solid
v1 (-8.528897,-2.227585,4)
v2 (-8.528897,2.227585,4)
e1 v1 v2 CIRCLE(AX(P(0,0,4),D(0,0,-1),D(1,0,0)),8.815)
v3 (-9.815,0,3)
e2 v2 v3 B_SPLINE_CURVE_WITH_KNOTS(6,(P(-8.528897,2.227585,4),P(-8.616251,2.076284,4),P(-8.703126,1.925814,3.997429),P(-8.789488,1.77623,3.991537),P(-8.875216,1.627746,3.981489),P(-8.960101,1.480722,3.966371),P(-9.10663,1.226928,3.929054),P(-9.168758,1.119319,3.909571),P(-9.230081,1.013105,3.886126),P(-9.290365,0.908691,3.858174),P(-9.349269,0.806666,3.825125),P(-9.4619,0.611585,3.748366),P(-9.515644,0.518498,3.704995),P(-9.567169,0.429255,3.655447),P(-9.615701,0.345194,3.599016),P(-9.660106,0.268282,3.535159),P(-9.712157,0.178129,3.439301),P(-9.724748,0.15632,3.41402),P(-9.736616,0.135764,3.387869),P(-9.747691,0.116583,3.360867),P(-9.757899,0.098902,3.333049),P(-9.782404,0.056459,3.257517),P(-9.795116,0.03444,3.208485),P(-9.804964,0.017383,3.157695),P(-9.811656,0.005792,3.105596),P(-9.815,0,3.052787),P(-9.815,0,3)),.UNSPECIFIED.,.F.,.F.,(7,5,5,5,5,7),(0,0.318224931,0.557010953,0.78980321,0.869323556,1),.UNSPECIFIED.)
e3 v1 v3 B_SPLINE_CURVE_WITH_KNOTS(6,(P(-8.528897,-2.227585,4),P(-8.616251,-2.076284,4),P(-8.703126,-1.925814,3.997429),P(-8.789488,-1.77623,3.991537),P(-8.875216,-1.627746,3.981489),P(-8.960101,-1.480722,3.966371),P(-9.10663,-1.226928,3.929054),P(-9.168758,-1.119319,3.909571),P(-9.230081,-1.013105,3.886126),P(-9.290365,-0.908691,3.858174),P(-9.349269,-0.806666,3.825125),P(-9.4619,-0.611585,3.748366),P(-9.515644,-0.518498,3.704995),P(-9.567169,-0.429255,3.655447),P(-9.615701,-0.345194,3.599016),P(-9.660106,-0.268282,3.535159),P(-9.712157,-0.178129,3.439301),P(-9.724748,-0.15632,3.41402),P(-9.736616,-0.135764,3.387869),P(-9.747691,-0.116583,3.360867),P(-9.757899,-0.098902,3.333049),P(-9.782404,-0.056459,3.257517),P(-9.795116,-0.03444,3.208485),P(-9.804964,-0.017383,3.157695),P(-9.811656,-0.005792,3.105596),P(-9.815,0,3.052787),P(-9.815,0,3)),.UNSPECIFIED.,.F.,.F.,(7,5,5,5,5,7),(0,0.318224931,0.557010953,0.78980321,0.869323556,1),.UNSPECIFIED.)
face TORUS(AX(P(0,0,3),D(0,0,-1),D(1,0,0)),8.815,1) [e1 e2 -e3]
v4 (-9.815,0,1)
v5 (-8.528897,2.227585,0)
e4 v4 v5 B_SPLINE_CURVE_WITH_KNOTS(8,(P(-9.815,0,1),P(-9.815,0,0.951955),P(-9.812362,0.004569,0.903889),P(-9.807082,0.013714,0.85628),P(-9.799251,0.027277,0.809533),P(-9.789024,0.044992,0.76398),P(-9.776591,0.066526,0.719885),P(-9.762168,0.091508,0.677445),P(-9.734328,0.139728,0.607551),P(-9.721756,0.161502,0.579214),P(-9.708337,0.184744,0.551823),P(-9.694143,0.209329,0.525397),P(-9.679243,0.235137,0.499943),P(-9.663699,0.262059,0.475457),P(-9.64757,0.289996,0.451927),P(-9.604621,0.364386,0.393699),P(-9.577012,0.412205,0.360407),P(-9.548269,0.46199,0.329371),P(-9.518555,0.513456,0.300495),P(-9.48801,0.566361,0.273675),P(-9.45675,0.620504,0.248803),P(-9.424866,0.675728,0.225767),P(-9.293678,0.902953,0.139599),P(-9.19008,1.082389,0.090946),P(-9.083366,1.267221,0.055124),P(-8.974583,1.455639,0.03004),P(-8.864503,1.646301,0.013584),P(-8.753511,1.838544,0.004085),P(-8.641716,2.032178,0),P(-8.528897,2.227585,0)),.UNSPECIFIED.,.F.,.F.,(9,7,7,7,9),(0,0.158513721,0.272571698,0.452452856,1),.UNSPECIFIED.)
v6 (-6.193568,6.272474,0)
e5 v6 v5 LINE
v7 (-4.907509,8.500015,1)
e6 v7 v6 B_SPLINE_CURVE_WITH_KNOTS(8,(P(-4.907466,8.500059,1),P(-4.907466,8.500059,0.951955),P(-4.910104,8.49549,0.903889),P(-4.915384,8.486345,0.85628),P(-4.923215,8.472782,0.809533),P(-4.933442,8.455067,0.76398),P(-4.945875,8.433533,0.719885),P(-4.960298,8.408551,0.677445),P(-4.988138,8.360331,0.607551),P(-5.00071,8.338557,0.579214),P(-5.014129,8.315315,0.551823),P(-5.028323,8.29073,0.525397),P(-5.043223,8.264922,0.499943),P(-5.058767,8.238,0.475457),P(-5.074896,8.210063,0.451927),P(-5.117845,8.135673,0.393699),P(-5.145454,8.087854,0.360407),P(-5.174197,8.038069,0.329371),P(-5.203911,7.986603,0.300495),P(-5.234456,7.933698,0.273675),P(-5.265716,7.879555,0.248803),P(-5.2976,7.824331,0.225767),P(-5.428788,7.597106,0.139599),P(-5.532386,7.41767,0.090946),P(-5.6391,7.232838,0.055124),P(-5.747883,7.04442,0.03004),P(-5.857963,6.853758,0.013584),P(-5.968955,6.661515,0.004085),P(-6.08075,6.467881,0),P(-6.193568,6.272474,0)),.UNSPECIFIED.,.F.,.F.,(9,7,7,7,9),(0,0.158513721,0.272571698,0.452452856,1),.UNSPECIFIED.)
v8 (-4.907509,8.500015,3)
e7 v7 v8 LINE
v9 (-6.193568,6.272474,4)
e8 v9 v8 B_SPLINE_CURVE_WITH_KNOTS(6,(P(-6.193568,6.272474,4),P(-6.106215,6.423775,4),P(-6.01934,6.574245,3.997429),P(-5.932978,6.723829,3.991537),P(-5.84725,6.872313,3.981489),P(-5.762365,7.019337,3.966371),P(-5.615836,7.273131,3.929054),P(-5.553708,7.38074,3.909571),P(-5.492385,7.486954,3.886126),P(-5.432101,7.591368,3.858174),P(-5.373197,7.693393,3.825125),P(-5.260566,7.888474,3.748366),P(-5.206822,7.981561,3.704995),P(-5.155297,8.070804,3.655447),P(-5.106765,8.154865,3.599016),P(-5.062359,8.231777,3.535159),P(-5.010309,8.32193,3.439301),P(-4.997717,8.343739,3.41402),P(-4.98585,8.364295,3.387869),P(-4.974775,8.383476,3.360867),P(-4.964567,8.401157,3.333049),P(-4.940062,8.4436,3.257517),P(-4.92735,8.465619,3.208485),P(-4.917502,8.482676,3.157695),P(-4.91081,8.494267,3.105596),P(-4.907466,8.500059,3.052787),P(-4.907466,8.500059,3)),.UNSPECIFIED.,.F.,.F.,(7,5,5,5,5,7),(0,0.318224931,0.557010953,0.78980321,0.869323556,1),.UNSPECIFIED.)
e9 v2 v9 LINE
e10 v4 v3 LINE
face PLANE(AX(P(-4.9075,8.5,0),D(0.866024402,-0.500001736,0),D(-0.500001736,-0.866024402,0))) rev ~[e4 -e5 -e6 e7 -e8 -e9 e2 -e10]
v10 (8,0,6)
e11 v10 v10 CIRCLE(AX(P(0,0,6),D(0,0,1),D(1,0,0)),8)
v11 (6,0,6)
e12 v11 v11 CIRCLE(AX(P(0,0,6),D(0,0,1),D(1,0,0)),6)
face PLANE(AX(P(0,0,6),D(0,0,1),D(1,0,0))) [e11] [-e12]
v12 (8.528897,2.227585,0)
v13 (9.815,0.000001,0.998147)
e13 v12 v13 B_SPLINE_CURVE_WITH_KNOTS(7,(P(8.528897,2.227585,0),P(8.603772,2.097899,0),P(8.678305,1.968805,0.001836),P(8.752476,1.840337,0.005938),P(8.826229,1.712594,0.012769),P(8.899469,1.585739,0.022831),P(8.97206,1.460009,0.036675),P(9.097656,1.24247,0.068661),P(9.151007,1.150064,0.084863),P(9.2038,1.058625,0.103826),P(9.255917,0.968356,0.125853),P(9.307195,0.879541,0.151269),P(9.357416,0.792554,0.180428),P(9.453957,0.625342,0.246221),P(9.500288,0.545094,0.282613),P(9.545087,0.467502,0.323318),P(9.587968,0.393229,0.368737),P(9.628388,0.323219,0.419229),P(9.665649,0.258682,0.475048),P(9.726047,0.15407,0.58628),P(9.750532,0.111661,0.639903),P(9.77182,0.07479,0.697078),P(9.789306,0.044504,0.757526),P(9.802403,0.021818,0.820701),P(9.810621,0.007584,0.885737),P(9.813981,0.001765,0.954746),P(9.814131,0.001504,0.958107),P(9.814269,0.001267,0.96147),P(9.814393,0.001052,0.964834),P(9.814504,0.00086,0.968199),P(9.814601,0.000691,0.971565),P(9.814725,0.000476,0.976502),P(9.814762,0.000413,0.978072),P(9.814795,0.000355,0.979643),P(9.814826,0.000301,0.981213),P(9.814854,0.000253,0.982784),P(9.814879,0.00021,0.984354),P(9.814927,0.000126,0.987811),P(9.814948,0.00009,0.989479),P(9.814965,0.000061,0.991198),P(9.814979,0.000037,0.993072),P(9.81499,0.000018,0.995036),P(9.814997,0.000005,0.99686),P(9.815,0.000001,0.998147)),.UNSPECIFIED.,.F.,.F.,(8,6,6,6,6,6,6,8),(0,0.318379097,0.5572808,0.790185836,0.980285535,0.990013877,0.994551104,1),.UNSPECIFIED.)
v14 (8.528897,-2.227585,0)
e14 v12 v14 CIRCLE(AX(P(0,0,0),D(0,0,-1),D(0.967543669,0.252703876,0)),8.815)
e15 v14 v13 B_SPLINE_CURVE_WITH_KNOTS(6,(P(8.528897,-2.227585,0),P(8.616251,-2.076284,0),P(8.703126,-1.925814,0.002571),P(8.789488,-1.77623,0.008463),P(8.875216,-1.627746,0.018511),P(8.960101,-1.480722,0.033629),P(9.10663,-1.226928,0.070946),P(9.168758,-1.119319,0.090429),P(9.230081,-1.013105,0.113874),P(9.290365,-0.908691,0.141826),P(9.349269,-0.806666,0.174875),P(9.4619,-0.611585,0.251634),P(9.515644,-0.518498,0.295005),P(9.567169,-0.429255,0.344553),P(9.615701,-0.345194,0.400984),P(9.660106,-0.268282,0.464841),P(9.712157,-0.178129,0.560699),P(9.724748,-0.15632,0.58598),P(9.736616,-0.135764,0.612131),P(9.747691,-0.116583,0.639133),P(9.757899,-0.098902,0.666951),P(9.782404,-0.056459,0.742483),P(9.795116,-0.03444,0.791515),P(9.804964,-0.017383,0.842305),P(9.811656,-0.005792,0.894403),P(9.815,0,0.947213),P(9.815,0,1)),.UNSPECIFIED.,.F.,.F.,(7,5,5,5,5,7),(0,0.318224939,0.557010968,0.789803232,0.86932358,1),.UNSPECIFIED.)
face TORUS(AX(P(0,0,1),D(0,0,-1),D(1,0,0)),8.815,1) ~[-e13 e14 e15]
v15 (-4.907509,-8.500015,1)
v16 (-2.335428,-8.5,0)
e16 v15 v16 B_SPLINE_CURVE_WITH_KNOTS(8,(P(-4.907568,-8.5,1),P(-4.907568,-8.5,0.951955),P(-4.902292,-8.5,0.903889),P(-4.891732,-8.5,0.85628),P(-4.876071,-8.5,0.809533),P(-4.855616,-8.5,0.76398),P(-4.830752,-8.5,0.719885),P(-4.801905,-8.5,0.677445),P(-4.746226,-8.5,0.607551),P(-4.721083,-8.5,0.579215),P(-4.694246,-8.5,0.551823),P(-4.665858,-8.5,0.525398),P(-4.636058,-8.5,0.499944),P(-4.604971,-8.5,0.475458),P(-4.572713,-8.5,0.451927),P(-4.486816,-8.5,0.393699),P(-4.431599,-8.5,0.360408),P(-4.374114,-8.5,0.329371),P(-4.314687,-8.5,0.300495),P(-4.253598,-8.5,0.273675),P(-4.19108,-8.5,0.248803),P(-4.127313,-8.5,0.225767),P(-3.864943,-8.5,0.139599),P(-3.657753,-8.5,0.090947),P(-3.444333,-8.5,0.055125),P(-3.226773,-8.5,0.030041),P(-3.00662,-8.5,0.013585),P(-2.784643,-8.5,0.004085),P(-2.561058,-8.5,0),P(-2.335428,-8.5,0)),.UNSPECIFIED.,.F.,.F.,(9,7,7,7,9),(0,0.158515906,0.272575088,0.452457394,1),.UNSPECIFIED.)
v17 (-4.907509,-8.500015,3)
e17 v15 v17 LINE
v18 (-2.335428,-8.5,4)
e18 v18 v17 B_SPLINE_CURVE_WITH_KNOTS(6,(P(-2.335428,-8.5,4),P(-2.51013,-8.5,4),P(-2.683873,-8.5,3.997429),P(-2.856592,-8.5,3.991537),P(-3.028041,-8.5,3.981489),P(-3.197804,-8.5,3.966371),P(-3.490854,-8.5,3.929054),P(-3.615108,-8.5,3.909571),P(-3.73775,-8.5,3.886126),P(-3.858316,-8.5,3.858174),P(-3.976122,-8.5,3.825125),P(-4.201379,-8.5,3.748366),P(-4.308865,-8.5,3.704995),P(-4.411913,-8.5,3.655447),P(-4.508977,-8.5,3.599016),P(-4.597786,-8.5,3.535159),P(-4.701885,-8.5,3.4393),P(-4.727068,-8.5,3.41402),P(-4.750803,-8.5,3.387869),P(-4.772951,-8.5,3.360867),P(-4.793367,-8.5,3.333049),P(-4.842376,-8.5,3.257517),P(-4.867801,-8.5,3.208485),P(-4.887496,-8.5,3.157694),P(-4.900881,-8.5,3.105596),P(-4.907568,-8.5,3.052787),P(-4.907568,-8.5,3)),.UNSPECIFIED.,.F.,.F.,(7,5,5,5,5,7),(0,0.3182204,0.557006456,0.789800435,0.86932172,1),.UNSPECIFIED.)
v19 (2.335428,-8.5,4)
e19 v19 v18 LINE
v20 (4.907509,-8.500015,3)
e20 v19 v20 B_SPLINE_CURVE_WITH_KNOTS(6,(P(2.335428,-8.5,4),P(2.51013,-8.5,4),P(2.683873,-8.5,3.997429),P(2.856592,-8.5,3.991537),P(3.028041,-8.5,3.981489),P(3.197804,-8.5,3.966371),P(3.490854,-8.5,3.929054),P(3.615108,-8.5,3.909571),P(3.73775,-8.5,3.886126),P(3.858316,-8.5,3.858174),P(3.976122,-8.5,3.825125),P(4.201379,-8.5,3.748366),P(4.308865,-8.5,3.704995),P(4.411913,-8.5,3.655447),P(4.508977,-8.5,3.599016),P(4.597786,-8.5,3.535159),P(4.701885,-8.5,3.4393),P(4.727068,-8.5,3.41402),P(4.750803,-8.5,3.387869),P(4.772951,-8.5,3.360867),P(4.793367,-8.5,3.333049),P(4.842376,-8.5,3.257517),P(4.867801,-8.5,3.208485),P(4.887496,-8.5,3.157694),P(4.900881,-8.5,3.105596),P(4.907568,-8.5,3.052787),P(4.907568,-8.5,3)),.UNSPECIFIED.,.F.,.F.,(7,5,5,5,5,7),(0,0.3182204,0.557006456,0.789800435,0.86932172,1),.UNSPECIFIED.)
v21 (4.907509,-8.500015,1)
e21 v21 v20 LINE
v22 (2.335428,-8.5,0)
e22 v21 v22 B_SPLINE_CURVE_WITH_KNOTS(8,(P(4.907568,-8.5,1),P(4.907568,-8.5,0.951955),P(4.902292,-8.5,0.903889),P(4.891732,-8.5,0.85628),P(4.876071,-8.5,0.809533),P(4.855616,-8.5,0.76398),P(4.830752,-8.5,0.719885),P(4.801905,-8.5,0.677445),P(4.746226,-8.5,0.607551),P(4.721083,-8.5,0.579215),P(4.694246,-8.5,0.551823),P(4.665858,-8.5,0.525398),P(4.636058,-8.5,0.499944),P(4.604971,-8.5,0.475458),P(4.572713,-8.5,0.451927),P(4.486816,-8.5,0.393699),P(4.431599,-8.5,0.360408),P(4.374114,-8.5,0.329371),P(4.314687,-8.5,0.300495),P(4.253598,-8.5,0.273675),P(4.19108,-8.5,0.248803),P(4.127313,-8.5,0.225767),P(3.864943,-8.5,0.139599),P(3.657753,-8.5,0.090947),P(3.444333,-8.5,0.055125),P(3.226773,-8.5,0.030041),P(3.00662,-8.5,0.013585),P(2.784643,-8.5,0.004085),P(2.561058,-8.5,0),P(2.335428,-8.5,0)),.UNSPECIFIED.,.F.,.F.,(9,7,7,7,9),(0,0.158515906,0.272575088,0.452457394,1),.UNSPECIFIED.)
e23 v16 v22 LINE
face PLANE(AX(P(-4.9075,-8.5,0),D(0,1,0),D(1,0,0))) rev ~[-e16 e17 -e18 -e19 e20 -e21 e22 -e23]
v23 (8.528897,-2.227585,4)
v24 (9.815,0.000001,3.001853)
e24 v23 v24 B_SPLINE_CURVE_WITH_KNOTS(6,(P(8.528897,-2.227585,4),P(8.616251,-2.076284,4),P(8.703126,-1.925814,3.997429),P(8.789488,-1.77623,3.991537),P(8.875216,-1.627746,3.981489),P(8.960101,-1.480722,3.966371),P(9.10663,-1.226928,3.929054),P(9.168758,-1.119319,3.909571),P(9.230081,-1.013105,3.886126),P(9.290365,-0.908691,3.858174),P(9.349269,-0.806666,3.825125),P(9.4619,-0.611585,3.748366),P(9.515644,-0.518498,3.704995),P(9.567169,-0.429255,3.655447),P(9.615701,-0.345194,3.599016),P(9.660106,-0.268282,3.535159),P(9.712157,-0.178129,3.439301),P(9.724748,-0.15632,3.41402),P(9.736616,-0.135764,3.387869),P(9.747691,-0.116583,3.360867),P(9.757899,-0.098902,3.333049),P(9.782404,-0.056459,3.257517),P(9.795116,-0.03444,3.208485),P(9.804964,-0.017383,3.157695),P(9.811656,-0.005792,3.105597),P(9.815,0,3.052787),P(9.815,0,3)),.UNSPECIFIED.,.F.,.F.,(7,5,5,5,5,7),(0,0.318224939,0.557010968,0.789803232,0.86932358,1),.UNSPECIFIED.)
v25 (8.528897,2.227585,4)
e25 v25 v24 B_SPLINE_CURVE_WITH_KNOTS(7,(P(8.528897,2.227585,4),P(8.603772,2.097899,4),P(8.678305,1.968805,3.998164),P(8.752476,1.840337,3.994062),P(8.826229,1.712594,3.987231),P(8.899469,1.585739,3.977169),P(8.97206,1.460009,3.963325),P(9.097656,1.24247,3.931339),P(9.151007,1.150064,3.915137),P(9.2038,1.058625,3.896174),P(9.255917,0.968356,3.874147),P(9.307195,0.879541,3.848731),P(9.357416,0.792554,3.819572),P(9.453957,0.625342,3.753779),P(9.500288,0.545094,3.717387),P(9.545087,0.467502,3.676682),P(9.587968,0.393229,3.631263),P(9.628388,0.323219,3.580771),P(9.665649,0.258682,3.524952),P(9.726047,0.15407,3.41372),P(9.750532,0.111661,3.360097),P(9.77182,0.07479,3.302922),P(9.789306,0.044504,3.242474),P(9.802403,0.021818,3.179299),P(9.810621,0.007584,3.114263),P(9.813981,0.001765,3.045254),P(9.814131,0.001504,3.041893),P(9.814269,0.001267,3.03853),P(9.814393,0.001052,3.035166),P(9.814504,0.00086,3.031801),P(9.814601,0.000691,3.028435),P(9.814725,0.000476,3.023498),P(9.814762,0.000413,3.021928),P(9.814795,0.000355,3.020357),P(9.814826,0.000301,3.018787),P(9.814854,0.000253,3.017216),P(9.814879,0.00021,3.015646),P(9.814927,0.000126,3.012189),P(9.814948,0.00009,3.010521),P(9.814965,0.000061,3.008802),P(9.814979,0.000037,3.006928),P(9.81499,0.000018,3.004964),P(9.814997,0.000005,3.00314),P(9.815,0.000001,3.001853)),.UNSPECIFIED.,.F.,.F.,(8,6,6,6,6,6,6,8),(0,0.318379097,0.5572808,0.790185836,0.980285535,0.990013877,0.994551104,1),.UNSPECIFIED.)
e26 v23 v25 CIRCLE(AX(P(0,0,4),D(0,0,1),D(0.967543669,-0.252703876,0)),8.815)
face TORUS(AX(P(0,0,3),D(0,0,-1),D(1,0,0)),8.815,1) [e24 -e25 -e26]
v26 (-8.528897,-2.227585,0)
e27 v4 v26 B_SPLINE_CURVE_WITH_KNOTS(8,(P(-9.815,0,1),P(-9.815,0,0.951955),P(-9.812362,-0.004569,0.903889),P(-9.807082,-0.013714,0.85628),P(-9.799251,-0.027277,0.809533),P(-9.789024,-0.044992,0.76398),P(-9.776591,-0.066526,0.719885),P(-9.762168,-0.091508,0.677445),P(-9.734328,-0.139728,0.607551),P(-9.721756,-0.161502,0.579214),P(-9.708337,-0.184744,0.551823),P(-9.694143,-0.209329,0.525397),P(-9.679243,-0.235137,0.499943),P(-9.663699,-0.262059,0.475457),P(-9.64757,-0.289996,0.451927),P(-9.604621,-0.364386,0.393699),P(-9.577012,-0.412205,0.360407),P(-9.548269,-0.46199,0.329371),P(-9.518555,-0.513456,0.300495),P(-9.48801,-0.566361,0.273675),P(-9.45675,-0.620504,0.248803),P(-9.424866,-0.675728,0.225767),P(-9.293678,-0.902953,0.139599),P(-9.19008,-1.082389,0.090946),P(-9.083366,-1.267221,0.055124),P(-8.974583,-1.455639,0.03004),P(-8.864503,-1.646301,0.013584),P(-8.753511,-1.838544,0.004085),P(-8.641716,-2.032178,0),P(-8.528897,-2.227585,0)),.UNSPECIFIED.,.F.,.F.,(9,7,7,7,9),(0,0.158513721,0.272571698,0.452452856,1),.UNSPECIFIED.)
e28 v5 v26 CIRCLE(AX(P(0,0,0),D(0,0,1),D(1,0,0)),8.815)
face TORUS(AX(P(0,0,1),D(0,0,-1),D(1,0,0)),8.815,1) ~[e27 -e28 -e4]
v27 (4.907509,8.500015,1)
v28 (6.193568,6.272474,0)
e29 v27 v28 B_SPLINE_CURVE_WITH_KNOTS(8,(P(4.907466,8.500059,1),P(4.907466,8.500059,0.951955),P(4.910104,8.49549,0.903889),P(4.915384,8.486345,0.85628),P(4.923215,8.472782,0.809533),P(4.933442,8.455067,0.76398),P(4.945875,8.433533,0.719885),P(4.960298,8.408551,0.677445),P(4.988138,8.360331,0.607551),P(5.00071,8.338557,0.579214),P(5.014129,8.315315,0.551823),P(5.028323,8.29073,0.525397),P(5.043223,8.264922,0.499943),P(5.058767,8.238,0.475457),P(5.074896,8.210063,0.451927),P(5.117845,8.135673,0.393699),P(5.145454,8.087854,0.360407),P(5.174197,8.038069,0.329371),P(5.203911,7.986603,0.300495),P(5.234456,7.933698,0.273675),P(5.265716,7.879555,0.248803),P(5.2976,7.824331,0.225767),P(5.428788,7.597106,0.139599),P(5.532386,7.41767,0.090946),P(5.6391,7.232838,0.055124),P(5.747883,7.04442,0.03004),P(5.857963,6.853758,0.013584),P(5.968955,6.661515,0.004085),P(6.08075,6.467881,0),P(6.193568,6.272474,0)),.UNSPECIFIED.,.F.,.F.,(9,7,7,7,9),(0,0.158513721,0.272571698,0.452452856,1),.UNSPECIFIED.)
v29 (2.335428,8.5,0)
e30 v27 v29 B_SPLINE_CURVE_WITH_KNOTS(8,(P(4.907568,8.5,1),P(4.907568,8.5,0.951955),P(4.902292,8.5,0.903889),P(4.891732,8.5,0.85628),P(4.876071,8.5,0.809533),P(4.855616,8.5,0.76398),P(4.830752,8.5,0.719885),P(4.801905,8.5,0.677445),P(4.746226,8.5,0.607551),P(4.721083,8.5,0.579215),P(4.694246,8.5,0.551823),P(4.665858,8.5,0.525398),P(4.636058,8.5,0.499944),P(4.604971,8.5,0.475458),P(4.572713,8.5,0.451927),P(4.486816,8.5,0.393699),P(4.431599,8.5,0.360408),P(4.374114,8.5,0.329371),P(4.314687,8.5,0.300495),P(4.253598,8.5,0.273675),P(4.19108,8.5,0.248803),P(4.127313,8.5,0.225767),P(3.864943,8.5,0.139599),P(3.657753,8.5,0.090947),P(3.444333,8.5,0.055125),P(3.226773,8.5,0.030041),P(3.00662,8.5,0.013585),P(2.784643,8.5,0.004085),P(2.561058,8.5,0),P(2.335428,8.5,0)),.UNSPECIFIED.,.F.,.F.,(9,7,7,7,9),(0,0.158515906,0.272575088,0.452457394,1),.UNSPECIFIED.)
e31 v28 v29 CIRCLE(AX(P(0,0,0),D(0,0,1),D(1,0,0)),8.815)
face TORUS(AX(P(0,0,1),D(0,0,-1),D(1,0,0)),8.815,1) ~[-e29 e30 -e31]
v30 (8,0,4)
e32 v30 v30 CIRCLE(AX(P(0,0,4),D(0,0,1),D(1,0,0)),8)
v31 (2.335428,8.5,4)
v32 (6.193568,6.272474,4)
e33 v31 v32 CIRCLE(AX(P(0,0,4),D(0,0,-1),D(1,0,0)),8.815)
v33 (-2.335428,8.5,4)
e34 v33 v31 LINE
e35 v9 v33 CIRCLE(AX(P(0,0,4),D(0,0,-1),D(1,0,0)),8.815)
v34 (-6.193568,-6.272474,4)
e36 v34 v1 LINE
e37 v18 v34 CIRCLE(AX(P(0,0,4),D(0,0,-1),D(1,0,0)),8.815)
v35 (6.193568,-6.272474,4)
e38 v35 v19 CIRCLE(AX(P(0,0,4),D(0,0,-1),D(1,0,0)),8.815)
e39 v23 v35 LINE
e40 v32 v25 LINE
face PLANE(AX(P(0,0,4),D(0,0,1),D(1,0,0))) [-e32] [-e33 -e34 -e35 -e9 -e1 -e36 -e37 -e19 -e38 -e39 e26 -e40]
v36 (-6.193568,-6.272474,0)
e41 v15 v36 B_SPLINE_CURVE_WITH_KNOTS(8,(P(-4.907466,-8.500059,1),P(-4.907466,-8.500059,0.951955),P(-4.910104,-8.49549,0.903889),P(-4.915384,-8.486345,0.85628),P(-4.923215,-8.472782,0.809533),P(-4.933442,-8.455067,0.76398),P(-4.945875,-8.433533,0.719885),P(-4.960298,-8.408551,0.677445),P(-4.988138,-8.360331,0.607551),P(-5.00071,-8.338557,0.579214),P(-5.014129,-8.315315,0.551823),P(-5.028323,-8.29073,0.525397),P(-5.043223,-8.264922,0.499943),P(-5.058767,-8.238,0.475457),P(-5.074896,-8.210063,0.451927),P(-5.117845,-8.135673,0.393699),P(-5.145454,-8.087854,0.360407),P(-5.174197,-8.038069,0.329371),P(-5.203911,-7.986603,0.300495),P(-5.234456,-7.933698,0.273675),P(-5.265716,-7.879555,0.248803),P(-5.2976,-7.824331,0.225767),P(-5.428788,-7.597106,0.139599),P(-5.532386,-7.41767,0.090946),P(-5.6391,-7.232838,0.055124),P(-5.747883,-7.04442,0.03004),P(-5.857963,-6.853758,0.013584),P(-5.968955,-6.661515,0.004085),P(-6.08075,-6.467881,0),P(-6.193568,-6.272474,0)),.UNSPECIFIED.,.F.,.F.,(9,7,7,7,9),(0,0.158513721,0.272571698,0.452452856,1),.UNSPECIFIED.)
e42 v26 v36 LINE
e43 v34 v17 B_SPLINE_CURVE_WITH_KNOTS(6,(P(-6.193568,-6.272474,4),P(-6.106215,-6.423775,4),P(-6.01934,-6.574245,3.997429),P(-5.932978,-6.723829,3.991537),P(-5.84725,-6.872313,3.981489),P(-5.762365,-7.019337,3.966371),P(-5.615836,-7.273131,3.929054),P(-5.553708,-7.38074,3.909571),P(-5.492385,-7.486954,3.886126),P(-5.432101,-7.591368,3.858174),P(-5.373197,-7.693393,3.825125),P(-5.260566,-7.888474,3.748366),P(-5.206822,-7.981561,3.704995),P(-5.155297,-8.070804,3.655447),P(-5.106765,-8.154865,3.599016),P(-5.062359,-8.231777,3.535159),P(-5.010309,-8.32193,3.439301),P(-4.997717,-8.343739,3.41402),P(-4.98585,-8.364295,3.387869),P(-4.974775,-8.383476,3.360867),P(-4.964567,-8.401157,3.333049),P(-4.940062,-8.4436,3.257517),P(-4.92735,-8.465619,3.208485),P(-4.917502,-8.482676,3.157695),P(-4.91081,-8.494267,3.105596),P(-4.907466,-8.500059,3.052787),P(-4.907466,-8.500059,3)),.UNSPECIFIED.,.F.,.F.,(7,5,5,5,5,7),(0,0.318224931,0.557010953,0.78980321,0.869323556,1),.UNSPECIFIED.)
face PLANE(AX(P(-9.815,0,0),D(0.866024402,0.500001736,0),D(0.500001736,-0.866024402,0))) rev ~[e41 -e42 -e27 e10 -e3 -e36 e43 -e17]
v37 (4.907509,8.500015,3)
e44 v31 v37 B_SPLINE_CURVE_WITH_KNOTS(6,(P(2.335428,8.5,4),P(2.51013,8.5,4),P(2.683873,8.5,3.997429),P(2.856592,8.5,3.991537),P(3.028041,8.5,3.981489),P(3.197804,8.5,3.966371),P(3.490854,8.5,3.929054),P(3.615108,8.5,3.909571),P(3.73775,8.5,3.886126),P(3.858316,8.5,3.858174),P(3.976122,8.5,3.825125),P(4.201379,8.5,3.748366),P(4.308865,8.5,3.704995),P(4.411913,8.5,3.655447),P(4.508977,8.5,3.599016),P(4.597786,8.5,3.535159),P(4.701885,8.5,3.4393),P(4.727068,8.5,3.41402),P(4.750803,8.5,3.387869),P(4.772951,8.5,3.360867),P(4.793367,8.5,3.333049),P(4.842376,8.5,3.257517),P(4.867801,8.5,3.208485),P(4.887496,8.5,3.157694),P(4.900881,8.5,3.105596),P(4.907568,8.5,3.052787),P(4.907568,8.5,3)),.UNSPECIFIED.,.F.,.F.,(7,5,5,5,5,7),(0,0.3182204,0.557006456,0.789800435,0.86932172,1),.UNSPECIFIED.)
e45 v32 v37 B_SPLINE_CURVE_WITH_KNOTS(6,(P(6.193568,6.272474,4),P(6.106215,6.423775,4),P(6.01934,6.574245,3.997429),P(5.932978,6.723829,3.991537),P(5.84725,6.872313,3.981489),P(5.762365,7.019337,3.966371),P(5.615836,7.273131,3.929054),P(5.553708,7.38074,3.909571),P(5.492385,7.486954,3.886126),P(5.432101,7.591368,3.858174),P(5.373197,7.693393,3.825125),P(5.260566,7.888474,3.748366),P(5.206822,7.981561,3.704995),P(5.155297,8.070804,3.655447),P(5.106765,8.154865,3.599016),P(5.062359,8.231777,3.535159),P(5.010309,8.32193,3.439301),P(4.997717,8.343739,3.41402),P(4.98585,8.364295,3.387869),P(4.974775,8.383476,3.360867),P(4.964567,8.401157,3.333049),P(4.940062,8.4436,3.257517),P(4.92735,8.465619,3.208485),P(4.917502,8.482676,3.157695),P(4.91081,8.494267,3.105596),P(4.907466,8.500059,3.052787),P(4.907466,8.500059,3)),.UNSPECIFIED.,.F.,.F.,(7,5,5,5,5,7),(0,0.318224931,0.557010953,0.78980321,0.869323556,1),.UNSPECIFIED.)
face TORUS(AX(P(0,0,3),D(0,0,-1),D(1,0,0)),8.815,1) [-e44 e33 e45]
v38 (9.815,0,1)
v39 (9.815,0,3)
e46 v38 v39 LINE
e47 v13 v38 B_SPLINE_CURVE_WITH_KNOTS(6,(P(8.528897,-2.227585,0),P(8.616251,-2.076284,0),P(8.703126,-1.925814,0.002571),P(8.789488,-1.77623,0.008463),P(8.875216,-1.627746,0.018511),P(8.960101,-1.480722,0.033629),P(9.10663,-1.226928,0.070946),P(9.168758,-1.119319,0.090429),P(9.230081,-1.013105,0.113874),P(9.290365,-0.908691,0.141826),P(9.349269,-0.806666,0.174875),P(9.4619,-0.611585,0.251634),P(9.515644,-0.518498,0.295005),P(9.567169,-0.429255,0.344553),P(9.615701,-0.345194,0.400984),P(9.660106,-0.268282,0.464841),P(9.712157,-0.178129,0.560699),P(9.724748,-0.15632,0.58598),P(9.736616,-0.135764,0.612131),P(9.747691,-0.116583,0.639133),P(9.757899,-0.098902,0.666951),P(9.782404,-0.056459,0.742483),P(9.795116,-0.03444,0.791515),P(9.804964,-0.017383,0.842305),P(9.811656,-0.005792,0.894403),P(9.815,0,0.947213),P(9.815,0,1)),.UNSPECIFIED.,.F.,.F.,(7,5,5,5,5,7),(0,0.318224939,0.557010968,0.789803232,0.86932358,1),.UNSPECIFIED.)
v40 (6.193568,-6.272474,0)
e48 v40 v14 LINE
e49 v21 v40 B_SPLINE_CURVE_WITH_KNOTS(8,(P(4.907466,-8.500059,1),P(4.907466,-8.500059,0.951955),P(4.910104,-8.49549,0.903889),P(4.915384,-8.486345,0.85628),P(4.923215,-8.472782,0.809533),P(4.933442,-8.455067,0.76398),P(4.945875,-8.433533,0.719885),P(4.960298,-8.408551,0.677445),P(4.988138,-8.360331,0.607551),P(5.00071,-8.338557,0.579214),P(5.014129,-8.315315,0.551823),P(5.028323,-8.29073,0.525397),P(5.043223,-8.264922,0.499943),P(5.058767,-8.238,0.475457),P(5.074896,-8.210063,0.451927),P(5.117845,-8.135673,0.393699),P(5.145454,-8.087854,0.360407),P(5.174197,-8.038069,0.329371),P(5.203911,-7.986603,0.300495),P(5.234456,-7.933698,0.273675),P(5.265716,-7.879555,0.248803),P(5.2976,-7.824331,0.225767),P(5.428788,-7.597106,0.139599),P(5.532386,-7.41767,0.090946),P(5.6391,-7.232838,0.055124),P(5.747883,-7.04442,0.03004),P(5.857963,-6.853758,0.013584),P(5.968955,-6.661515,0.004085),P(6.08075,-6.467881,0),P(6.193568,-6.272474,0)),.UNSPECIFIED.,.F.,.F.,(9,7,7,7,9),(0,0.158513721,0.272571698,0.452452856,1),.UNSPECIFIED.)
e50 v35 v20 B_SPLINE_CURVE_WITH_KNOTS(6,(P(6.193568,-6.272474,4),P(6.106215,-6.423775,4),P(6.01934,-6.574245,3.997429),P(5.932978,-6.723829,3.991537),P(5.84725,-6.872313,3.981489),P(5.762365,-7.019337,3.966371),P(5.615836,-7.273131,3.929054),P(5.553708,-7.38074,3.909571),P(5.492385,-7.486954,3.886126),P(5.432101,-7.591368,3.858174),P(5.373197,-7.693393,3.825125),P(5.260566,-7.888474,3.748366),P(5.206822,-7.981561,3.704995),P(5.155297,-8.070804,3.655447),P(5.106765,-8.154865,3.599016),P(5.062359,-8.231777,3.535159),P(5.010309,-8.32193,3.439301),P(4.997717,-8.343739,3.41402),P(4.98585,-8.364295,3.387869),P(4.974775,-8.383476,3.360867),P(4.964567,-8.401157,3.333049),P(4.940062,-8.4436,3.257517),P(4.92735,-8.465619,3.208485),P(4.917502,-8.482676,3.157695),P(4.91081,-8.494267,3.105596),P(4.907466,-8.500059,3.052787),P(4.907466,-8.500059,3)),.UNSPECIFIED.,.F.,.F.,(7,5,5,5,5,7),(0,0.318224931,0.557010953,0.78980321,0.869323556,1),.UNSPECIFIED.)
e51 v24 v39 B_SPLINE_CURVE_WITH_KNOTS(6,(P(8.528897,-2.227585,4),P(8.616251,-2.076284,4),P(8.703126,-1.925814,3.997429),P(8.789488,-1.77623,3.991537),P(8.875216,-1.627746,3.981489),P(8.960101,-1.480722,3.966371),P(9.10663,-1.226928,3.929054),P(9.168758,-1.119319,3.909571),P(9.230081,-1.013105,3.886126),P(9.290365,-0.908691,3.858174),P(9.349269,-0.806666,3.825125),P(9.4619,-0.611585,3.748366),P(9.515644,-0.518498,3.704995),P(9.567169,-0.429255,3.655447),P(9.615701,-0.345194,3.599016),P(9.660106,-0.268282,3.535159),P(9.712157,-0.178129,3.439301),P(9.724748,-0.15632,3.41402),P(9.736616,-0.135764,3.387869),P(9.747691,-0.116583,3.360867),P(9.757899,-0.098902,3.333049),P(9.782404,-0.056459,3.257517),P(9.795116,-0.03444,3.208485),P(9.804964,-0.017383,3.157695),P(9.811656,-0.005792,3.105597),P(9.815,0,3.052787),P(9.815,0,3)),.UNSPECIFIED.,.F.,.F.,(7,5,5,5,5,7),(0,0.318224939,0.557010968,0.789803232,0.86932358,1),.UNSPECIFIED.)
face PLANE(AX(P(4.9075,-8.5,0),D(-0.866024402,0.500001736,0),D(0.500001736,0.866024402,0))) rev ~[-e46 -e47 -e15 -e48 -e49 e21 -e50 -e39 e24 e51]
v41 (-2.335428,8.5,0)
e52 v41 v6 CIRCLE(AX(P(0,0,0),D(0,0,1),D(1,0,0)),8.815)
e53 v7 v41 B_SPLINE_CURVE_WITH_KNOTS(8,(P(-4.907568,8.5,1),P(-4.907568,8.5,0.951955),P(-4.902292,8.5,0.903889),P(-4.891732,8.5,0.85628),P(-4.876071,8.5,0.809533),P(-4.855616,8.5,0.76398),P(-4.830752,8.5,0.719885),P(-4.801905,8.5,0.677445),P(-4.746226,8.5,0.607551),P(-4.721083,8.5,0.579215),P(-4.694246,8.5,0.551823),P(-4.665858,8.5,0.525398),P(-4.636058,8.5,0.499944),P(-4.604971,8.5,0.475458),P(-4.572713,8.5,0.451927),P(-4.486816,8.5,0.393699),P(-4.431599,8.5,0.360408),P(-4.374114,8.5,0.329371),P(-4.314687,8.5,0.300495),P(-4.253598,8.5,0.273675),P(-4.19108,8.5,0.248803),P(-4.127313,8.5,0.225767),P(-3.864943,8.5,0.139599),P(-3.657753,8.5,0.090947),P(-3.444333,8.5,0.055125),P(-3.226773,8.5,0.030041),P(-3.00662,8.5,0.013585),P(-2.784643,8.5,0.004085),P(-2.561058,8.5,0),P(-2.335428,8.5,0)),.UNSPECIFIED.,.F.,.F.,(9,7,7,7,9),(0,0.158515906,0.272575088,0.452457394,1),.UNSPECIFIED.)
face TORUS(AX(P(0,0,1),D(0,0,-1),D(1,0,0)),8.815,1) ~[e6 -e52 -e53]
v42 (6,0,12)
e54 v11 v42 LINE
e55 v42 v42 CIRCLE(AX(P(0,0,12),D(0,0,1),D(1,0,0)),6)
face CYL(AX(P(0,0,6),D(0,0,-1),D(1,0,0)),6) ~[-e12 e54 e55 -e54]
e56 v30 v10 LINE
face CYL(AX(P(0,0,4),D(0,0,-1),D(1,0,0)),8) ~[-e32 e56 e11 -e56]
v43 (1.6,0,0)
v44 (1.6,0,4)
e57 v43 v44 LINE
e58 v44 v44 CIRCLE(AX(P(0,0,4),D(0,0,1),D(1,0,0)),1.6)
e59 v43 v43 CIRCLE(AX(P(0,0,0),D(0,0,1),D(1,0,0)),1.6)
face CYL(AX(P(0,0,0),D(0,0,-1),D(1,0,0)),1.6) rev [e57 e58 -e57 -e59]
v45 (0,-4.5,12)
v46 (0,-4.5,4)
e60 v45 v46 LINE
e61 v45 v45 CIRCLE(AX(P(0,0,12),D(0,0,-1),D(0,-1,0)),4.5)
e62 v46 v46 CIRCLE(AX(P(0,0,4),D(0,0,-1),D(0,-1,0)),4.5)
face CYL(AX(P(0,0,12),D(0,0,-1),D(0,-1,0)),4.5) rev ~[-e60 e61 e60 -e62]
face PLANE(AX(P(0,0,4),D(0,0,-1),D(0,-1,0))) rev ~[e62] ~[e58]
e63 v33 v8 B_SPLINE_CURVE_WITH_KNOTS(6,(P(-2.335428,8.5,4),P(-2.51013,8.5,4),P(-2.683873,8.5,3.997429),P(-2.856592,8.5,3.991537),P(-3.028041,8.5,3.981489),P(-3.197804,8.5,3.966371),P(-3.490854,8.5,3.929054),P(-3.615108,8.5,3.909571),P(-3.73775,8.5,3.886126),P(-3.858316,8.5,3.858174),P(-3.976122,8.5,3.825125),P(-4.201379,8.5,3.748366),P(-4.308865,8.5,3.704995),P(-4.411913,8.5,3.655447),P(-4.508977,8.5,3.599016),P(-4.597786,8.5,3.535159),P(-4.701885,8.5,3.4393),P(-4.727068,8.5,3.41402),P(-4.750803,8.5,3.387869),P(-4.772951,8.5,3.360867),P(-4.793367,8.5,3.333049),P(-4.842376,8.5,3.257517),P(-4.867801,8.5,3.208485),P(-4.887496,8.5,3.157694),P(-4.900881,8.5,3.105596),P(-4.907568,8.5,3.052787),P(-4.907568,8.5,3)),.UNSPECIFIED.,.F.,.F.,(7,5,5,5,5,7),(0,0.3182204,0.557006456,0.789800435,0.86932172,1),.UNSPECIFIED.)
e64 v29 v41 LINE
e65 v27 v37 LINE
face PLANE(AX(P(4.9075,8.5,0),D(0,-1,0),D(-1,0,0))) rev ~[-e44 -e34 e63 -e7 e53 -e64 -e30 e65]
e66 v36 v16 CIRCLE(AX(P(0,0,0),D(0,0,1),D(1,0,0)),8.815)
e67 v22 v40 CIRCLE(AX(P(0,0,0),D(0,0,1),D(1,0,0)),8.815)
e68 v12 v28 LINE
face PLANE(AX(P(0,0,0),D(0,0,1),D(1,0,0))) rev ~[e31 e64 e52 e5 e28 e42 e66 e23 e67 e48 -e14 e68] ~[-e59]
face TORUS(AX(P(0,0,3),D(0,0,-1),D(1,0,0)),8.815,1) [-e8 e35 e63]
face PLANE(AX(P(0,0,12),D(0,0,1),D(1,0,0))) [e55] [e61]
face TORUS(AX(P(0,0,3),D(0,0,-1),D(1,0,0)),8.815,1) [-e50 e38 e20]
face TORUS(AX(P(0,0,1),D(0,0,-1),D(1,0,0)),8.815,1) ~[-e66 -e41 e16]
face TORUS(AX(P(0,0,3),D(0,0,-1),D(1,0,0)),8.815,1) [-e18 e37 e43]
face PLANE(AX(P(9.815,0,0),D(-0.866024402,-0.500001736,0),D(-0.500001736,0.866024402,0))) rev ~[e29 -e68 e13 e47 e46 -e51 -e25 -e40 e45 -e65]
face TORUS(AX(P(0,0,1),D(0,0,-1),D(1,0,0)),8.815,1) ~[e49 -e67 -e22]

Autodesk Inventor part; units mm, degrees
ref_plane "YZ Plane" through (0, 0, 0) normal (1, 0, 0) x (0, 1, 0)
ref_plane "XZ Plane" through (0, 0, 0) normal (0, 1, 0) x (-1, 0, 0)
ref_plane "XY Plane" through (0, 0, 0) normal (0, 0, 1) x (1, 0, 0)
sketch "Sketch1" plane through (0, 0, 0) normal (0, 0, 1) x (1, 0, 0)
  circle A0 centre (0, 0) radius 1.6
  line L0 (9.815, 0) -> (4.9075, -8.5)
  line L1 (4.9075, -8.5) -> (-4.9075, -8.5)
  line L2 (-4.9075, -8.5) -> (-9.815, 0)
  line L3 (-9.815, 0) -> (-4.9075, 8.5)
  line L4 (-4.9075, 8.5) -> (4.9075, 8.5)
  line L5 (4.9075, 8.5) -> (9.815, 0)
  circle A1 centre (0, 0) radius 9.815
  point P0 (-9.815, 0)
  point P1 (-9.815, 0)
  dimension "d0" = 3.2
  dimension "d1" = 17
extrude "Extrusion1" add sketch "Sketch1" along normal blind 4
sketch "Sketch2" plane through (0, 0, 4) normal (0, 0, 1) x (1, 0, 0)
  circle A0 centre (0, 0) radius 8
  dimension "d4" = 16
extrude "Extrusion2" add sketch "Sketch2" along normal blind 2
sketch "Sketch3" plane through (0, 0, 6) normal (0, 0, 1) x (1, 0, 0)
  circle A0 centre (0, 0) radius 6
  dimension "d7" = 12
extrude "Extrusion3" add sketch "Sketch3" along normal blind 6
thread "Thread1" size "M12x0.5" class "6g" standard "ANSI Metric M Profile" full length
sketch "Sketch4" plane through (0, 0, 12) normal (0, 0, 1) x (1, 0, 0)
  circle A0 centre (0, 0) radius 6 projected
hole "Hole1" at (0, 0, 12) direction (0, 0, -1) diameter 9 depth 8
fillet "Fillet1" radius 1 2 edges at (4.9075, 8.5, 0) (4.9075, 8.5, 4)
sketch "Sketch5" plane through (0, 0, 0) normal (0, 0, -1) x (-1, 0, 0)
  circle A0 centre (0, 0) radius 1.6 projected
  circle A1 centre (0, 0) radius 9.815 projected
  line L0 (9.815, 0) -> (4.9075, -8.5)
  line L1 (4.9075, -8.5) -> (-4.9075, -8.5)
  line L2 (-4.9075, -8.5) -> (-9.815, 0)
  line L3 (-9.815, 0) -> (-4.9075, 8.5)
  line L4 (-4.9075, 8.5) -> (4.9075, 8.5)
  line L5 (4.9075, 8.5) -> (9.815, 0)
  point P0 (-9.815, 0)
  point P1 (-9.815, 0)
extrude "Extrusion4" cut sketch "Sketch5" against normal blind 5 contours L5 A1 | A1 L0 | L4 A1 | A1 L1 | L3 A1 | A1 L2
properties part number "fix-screw"
